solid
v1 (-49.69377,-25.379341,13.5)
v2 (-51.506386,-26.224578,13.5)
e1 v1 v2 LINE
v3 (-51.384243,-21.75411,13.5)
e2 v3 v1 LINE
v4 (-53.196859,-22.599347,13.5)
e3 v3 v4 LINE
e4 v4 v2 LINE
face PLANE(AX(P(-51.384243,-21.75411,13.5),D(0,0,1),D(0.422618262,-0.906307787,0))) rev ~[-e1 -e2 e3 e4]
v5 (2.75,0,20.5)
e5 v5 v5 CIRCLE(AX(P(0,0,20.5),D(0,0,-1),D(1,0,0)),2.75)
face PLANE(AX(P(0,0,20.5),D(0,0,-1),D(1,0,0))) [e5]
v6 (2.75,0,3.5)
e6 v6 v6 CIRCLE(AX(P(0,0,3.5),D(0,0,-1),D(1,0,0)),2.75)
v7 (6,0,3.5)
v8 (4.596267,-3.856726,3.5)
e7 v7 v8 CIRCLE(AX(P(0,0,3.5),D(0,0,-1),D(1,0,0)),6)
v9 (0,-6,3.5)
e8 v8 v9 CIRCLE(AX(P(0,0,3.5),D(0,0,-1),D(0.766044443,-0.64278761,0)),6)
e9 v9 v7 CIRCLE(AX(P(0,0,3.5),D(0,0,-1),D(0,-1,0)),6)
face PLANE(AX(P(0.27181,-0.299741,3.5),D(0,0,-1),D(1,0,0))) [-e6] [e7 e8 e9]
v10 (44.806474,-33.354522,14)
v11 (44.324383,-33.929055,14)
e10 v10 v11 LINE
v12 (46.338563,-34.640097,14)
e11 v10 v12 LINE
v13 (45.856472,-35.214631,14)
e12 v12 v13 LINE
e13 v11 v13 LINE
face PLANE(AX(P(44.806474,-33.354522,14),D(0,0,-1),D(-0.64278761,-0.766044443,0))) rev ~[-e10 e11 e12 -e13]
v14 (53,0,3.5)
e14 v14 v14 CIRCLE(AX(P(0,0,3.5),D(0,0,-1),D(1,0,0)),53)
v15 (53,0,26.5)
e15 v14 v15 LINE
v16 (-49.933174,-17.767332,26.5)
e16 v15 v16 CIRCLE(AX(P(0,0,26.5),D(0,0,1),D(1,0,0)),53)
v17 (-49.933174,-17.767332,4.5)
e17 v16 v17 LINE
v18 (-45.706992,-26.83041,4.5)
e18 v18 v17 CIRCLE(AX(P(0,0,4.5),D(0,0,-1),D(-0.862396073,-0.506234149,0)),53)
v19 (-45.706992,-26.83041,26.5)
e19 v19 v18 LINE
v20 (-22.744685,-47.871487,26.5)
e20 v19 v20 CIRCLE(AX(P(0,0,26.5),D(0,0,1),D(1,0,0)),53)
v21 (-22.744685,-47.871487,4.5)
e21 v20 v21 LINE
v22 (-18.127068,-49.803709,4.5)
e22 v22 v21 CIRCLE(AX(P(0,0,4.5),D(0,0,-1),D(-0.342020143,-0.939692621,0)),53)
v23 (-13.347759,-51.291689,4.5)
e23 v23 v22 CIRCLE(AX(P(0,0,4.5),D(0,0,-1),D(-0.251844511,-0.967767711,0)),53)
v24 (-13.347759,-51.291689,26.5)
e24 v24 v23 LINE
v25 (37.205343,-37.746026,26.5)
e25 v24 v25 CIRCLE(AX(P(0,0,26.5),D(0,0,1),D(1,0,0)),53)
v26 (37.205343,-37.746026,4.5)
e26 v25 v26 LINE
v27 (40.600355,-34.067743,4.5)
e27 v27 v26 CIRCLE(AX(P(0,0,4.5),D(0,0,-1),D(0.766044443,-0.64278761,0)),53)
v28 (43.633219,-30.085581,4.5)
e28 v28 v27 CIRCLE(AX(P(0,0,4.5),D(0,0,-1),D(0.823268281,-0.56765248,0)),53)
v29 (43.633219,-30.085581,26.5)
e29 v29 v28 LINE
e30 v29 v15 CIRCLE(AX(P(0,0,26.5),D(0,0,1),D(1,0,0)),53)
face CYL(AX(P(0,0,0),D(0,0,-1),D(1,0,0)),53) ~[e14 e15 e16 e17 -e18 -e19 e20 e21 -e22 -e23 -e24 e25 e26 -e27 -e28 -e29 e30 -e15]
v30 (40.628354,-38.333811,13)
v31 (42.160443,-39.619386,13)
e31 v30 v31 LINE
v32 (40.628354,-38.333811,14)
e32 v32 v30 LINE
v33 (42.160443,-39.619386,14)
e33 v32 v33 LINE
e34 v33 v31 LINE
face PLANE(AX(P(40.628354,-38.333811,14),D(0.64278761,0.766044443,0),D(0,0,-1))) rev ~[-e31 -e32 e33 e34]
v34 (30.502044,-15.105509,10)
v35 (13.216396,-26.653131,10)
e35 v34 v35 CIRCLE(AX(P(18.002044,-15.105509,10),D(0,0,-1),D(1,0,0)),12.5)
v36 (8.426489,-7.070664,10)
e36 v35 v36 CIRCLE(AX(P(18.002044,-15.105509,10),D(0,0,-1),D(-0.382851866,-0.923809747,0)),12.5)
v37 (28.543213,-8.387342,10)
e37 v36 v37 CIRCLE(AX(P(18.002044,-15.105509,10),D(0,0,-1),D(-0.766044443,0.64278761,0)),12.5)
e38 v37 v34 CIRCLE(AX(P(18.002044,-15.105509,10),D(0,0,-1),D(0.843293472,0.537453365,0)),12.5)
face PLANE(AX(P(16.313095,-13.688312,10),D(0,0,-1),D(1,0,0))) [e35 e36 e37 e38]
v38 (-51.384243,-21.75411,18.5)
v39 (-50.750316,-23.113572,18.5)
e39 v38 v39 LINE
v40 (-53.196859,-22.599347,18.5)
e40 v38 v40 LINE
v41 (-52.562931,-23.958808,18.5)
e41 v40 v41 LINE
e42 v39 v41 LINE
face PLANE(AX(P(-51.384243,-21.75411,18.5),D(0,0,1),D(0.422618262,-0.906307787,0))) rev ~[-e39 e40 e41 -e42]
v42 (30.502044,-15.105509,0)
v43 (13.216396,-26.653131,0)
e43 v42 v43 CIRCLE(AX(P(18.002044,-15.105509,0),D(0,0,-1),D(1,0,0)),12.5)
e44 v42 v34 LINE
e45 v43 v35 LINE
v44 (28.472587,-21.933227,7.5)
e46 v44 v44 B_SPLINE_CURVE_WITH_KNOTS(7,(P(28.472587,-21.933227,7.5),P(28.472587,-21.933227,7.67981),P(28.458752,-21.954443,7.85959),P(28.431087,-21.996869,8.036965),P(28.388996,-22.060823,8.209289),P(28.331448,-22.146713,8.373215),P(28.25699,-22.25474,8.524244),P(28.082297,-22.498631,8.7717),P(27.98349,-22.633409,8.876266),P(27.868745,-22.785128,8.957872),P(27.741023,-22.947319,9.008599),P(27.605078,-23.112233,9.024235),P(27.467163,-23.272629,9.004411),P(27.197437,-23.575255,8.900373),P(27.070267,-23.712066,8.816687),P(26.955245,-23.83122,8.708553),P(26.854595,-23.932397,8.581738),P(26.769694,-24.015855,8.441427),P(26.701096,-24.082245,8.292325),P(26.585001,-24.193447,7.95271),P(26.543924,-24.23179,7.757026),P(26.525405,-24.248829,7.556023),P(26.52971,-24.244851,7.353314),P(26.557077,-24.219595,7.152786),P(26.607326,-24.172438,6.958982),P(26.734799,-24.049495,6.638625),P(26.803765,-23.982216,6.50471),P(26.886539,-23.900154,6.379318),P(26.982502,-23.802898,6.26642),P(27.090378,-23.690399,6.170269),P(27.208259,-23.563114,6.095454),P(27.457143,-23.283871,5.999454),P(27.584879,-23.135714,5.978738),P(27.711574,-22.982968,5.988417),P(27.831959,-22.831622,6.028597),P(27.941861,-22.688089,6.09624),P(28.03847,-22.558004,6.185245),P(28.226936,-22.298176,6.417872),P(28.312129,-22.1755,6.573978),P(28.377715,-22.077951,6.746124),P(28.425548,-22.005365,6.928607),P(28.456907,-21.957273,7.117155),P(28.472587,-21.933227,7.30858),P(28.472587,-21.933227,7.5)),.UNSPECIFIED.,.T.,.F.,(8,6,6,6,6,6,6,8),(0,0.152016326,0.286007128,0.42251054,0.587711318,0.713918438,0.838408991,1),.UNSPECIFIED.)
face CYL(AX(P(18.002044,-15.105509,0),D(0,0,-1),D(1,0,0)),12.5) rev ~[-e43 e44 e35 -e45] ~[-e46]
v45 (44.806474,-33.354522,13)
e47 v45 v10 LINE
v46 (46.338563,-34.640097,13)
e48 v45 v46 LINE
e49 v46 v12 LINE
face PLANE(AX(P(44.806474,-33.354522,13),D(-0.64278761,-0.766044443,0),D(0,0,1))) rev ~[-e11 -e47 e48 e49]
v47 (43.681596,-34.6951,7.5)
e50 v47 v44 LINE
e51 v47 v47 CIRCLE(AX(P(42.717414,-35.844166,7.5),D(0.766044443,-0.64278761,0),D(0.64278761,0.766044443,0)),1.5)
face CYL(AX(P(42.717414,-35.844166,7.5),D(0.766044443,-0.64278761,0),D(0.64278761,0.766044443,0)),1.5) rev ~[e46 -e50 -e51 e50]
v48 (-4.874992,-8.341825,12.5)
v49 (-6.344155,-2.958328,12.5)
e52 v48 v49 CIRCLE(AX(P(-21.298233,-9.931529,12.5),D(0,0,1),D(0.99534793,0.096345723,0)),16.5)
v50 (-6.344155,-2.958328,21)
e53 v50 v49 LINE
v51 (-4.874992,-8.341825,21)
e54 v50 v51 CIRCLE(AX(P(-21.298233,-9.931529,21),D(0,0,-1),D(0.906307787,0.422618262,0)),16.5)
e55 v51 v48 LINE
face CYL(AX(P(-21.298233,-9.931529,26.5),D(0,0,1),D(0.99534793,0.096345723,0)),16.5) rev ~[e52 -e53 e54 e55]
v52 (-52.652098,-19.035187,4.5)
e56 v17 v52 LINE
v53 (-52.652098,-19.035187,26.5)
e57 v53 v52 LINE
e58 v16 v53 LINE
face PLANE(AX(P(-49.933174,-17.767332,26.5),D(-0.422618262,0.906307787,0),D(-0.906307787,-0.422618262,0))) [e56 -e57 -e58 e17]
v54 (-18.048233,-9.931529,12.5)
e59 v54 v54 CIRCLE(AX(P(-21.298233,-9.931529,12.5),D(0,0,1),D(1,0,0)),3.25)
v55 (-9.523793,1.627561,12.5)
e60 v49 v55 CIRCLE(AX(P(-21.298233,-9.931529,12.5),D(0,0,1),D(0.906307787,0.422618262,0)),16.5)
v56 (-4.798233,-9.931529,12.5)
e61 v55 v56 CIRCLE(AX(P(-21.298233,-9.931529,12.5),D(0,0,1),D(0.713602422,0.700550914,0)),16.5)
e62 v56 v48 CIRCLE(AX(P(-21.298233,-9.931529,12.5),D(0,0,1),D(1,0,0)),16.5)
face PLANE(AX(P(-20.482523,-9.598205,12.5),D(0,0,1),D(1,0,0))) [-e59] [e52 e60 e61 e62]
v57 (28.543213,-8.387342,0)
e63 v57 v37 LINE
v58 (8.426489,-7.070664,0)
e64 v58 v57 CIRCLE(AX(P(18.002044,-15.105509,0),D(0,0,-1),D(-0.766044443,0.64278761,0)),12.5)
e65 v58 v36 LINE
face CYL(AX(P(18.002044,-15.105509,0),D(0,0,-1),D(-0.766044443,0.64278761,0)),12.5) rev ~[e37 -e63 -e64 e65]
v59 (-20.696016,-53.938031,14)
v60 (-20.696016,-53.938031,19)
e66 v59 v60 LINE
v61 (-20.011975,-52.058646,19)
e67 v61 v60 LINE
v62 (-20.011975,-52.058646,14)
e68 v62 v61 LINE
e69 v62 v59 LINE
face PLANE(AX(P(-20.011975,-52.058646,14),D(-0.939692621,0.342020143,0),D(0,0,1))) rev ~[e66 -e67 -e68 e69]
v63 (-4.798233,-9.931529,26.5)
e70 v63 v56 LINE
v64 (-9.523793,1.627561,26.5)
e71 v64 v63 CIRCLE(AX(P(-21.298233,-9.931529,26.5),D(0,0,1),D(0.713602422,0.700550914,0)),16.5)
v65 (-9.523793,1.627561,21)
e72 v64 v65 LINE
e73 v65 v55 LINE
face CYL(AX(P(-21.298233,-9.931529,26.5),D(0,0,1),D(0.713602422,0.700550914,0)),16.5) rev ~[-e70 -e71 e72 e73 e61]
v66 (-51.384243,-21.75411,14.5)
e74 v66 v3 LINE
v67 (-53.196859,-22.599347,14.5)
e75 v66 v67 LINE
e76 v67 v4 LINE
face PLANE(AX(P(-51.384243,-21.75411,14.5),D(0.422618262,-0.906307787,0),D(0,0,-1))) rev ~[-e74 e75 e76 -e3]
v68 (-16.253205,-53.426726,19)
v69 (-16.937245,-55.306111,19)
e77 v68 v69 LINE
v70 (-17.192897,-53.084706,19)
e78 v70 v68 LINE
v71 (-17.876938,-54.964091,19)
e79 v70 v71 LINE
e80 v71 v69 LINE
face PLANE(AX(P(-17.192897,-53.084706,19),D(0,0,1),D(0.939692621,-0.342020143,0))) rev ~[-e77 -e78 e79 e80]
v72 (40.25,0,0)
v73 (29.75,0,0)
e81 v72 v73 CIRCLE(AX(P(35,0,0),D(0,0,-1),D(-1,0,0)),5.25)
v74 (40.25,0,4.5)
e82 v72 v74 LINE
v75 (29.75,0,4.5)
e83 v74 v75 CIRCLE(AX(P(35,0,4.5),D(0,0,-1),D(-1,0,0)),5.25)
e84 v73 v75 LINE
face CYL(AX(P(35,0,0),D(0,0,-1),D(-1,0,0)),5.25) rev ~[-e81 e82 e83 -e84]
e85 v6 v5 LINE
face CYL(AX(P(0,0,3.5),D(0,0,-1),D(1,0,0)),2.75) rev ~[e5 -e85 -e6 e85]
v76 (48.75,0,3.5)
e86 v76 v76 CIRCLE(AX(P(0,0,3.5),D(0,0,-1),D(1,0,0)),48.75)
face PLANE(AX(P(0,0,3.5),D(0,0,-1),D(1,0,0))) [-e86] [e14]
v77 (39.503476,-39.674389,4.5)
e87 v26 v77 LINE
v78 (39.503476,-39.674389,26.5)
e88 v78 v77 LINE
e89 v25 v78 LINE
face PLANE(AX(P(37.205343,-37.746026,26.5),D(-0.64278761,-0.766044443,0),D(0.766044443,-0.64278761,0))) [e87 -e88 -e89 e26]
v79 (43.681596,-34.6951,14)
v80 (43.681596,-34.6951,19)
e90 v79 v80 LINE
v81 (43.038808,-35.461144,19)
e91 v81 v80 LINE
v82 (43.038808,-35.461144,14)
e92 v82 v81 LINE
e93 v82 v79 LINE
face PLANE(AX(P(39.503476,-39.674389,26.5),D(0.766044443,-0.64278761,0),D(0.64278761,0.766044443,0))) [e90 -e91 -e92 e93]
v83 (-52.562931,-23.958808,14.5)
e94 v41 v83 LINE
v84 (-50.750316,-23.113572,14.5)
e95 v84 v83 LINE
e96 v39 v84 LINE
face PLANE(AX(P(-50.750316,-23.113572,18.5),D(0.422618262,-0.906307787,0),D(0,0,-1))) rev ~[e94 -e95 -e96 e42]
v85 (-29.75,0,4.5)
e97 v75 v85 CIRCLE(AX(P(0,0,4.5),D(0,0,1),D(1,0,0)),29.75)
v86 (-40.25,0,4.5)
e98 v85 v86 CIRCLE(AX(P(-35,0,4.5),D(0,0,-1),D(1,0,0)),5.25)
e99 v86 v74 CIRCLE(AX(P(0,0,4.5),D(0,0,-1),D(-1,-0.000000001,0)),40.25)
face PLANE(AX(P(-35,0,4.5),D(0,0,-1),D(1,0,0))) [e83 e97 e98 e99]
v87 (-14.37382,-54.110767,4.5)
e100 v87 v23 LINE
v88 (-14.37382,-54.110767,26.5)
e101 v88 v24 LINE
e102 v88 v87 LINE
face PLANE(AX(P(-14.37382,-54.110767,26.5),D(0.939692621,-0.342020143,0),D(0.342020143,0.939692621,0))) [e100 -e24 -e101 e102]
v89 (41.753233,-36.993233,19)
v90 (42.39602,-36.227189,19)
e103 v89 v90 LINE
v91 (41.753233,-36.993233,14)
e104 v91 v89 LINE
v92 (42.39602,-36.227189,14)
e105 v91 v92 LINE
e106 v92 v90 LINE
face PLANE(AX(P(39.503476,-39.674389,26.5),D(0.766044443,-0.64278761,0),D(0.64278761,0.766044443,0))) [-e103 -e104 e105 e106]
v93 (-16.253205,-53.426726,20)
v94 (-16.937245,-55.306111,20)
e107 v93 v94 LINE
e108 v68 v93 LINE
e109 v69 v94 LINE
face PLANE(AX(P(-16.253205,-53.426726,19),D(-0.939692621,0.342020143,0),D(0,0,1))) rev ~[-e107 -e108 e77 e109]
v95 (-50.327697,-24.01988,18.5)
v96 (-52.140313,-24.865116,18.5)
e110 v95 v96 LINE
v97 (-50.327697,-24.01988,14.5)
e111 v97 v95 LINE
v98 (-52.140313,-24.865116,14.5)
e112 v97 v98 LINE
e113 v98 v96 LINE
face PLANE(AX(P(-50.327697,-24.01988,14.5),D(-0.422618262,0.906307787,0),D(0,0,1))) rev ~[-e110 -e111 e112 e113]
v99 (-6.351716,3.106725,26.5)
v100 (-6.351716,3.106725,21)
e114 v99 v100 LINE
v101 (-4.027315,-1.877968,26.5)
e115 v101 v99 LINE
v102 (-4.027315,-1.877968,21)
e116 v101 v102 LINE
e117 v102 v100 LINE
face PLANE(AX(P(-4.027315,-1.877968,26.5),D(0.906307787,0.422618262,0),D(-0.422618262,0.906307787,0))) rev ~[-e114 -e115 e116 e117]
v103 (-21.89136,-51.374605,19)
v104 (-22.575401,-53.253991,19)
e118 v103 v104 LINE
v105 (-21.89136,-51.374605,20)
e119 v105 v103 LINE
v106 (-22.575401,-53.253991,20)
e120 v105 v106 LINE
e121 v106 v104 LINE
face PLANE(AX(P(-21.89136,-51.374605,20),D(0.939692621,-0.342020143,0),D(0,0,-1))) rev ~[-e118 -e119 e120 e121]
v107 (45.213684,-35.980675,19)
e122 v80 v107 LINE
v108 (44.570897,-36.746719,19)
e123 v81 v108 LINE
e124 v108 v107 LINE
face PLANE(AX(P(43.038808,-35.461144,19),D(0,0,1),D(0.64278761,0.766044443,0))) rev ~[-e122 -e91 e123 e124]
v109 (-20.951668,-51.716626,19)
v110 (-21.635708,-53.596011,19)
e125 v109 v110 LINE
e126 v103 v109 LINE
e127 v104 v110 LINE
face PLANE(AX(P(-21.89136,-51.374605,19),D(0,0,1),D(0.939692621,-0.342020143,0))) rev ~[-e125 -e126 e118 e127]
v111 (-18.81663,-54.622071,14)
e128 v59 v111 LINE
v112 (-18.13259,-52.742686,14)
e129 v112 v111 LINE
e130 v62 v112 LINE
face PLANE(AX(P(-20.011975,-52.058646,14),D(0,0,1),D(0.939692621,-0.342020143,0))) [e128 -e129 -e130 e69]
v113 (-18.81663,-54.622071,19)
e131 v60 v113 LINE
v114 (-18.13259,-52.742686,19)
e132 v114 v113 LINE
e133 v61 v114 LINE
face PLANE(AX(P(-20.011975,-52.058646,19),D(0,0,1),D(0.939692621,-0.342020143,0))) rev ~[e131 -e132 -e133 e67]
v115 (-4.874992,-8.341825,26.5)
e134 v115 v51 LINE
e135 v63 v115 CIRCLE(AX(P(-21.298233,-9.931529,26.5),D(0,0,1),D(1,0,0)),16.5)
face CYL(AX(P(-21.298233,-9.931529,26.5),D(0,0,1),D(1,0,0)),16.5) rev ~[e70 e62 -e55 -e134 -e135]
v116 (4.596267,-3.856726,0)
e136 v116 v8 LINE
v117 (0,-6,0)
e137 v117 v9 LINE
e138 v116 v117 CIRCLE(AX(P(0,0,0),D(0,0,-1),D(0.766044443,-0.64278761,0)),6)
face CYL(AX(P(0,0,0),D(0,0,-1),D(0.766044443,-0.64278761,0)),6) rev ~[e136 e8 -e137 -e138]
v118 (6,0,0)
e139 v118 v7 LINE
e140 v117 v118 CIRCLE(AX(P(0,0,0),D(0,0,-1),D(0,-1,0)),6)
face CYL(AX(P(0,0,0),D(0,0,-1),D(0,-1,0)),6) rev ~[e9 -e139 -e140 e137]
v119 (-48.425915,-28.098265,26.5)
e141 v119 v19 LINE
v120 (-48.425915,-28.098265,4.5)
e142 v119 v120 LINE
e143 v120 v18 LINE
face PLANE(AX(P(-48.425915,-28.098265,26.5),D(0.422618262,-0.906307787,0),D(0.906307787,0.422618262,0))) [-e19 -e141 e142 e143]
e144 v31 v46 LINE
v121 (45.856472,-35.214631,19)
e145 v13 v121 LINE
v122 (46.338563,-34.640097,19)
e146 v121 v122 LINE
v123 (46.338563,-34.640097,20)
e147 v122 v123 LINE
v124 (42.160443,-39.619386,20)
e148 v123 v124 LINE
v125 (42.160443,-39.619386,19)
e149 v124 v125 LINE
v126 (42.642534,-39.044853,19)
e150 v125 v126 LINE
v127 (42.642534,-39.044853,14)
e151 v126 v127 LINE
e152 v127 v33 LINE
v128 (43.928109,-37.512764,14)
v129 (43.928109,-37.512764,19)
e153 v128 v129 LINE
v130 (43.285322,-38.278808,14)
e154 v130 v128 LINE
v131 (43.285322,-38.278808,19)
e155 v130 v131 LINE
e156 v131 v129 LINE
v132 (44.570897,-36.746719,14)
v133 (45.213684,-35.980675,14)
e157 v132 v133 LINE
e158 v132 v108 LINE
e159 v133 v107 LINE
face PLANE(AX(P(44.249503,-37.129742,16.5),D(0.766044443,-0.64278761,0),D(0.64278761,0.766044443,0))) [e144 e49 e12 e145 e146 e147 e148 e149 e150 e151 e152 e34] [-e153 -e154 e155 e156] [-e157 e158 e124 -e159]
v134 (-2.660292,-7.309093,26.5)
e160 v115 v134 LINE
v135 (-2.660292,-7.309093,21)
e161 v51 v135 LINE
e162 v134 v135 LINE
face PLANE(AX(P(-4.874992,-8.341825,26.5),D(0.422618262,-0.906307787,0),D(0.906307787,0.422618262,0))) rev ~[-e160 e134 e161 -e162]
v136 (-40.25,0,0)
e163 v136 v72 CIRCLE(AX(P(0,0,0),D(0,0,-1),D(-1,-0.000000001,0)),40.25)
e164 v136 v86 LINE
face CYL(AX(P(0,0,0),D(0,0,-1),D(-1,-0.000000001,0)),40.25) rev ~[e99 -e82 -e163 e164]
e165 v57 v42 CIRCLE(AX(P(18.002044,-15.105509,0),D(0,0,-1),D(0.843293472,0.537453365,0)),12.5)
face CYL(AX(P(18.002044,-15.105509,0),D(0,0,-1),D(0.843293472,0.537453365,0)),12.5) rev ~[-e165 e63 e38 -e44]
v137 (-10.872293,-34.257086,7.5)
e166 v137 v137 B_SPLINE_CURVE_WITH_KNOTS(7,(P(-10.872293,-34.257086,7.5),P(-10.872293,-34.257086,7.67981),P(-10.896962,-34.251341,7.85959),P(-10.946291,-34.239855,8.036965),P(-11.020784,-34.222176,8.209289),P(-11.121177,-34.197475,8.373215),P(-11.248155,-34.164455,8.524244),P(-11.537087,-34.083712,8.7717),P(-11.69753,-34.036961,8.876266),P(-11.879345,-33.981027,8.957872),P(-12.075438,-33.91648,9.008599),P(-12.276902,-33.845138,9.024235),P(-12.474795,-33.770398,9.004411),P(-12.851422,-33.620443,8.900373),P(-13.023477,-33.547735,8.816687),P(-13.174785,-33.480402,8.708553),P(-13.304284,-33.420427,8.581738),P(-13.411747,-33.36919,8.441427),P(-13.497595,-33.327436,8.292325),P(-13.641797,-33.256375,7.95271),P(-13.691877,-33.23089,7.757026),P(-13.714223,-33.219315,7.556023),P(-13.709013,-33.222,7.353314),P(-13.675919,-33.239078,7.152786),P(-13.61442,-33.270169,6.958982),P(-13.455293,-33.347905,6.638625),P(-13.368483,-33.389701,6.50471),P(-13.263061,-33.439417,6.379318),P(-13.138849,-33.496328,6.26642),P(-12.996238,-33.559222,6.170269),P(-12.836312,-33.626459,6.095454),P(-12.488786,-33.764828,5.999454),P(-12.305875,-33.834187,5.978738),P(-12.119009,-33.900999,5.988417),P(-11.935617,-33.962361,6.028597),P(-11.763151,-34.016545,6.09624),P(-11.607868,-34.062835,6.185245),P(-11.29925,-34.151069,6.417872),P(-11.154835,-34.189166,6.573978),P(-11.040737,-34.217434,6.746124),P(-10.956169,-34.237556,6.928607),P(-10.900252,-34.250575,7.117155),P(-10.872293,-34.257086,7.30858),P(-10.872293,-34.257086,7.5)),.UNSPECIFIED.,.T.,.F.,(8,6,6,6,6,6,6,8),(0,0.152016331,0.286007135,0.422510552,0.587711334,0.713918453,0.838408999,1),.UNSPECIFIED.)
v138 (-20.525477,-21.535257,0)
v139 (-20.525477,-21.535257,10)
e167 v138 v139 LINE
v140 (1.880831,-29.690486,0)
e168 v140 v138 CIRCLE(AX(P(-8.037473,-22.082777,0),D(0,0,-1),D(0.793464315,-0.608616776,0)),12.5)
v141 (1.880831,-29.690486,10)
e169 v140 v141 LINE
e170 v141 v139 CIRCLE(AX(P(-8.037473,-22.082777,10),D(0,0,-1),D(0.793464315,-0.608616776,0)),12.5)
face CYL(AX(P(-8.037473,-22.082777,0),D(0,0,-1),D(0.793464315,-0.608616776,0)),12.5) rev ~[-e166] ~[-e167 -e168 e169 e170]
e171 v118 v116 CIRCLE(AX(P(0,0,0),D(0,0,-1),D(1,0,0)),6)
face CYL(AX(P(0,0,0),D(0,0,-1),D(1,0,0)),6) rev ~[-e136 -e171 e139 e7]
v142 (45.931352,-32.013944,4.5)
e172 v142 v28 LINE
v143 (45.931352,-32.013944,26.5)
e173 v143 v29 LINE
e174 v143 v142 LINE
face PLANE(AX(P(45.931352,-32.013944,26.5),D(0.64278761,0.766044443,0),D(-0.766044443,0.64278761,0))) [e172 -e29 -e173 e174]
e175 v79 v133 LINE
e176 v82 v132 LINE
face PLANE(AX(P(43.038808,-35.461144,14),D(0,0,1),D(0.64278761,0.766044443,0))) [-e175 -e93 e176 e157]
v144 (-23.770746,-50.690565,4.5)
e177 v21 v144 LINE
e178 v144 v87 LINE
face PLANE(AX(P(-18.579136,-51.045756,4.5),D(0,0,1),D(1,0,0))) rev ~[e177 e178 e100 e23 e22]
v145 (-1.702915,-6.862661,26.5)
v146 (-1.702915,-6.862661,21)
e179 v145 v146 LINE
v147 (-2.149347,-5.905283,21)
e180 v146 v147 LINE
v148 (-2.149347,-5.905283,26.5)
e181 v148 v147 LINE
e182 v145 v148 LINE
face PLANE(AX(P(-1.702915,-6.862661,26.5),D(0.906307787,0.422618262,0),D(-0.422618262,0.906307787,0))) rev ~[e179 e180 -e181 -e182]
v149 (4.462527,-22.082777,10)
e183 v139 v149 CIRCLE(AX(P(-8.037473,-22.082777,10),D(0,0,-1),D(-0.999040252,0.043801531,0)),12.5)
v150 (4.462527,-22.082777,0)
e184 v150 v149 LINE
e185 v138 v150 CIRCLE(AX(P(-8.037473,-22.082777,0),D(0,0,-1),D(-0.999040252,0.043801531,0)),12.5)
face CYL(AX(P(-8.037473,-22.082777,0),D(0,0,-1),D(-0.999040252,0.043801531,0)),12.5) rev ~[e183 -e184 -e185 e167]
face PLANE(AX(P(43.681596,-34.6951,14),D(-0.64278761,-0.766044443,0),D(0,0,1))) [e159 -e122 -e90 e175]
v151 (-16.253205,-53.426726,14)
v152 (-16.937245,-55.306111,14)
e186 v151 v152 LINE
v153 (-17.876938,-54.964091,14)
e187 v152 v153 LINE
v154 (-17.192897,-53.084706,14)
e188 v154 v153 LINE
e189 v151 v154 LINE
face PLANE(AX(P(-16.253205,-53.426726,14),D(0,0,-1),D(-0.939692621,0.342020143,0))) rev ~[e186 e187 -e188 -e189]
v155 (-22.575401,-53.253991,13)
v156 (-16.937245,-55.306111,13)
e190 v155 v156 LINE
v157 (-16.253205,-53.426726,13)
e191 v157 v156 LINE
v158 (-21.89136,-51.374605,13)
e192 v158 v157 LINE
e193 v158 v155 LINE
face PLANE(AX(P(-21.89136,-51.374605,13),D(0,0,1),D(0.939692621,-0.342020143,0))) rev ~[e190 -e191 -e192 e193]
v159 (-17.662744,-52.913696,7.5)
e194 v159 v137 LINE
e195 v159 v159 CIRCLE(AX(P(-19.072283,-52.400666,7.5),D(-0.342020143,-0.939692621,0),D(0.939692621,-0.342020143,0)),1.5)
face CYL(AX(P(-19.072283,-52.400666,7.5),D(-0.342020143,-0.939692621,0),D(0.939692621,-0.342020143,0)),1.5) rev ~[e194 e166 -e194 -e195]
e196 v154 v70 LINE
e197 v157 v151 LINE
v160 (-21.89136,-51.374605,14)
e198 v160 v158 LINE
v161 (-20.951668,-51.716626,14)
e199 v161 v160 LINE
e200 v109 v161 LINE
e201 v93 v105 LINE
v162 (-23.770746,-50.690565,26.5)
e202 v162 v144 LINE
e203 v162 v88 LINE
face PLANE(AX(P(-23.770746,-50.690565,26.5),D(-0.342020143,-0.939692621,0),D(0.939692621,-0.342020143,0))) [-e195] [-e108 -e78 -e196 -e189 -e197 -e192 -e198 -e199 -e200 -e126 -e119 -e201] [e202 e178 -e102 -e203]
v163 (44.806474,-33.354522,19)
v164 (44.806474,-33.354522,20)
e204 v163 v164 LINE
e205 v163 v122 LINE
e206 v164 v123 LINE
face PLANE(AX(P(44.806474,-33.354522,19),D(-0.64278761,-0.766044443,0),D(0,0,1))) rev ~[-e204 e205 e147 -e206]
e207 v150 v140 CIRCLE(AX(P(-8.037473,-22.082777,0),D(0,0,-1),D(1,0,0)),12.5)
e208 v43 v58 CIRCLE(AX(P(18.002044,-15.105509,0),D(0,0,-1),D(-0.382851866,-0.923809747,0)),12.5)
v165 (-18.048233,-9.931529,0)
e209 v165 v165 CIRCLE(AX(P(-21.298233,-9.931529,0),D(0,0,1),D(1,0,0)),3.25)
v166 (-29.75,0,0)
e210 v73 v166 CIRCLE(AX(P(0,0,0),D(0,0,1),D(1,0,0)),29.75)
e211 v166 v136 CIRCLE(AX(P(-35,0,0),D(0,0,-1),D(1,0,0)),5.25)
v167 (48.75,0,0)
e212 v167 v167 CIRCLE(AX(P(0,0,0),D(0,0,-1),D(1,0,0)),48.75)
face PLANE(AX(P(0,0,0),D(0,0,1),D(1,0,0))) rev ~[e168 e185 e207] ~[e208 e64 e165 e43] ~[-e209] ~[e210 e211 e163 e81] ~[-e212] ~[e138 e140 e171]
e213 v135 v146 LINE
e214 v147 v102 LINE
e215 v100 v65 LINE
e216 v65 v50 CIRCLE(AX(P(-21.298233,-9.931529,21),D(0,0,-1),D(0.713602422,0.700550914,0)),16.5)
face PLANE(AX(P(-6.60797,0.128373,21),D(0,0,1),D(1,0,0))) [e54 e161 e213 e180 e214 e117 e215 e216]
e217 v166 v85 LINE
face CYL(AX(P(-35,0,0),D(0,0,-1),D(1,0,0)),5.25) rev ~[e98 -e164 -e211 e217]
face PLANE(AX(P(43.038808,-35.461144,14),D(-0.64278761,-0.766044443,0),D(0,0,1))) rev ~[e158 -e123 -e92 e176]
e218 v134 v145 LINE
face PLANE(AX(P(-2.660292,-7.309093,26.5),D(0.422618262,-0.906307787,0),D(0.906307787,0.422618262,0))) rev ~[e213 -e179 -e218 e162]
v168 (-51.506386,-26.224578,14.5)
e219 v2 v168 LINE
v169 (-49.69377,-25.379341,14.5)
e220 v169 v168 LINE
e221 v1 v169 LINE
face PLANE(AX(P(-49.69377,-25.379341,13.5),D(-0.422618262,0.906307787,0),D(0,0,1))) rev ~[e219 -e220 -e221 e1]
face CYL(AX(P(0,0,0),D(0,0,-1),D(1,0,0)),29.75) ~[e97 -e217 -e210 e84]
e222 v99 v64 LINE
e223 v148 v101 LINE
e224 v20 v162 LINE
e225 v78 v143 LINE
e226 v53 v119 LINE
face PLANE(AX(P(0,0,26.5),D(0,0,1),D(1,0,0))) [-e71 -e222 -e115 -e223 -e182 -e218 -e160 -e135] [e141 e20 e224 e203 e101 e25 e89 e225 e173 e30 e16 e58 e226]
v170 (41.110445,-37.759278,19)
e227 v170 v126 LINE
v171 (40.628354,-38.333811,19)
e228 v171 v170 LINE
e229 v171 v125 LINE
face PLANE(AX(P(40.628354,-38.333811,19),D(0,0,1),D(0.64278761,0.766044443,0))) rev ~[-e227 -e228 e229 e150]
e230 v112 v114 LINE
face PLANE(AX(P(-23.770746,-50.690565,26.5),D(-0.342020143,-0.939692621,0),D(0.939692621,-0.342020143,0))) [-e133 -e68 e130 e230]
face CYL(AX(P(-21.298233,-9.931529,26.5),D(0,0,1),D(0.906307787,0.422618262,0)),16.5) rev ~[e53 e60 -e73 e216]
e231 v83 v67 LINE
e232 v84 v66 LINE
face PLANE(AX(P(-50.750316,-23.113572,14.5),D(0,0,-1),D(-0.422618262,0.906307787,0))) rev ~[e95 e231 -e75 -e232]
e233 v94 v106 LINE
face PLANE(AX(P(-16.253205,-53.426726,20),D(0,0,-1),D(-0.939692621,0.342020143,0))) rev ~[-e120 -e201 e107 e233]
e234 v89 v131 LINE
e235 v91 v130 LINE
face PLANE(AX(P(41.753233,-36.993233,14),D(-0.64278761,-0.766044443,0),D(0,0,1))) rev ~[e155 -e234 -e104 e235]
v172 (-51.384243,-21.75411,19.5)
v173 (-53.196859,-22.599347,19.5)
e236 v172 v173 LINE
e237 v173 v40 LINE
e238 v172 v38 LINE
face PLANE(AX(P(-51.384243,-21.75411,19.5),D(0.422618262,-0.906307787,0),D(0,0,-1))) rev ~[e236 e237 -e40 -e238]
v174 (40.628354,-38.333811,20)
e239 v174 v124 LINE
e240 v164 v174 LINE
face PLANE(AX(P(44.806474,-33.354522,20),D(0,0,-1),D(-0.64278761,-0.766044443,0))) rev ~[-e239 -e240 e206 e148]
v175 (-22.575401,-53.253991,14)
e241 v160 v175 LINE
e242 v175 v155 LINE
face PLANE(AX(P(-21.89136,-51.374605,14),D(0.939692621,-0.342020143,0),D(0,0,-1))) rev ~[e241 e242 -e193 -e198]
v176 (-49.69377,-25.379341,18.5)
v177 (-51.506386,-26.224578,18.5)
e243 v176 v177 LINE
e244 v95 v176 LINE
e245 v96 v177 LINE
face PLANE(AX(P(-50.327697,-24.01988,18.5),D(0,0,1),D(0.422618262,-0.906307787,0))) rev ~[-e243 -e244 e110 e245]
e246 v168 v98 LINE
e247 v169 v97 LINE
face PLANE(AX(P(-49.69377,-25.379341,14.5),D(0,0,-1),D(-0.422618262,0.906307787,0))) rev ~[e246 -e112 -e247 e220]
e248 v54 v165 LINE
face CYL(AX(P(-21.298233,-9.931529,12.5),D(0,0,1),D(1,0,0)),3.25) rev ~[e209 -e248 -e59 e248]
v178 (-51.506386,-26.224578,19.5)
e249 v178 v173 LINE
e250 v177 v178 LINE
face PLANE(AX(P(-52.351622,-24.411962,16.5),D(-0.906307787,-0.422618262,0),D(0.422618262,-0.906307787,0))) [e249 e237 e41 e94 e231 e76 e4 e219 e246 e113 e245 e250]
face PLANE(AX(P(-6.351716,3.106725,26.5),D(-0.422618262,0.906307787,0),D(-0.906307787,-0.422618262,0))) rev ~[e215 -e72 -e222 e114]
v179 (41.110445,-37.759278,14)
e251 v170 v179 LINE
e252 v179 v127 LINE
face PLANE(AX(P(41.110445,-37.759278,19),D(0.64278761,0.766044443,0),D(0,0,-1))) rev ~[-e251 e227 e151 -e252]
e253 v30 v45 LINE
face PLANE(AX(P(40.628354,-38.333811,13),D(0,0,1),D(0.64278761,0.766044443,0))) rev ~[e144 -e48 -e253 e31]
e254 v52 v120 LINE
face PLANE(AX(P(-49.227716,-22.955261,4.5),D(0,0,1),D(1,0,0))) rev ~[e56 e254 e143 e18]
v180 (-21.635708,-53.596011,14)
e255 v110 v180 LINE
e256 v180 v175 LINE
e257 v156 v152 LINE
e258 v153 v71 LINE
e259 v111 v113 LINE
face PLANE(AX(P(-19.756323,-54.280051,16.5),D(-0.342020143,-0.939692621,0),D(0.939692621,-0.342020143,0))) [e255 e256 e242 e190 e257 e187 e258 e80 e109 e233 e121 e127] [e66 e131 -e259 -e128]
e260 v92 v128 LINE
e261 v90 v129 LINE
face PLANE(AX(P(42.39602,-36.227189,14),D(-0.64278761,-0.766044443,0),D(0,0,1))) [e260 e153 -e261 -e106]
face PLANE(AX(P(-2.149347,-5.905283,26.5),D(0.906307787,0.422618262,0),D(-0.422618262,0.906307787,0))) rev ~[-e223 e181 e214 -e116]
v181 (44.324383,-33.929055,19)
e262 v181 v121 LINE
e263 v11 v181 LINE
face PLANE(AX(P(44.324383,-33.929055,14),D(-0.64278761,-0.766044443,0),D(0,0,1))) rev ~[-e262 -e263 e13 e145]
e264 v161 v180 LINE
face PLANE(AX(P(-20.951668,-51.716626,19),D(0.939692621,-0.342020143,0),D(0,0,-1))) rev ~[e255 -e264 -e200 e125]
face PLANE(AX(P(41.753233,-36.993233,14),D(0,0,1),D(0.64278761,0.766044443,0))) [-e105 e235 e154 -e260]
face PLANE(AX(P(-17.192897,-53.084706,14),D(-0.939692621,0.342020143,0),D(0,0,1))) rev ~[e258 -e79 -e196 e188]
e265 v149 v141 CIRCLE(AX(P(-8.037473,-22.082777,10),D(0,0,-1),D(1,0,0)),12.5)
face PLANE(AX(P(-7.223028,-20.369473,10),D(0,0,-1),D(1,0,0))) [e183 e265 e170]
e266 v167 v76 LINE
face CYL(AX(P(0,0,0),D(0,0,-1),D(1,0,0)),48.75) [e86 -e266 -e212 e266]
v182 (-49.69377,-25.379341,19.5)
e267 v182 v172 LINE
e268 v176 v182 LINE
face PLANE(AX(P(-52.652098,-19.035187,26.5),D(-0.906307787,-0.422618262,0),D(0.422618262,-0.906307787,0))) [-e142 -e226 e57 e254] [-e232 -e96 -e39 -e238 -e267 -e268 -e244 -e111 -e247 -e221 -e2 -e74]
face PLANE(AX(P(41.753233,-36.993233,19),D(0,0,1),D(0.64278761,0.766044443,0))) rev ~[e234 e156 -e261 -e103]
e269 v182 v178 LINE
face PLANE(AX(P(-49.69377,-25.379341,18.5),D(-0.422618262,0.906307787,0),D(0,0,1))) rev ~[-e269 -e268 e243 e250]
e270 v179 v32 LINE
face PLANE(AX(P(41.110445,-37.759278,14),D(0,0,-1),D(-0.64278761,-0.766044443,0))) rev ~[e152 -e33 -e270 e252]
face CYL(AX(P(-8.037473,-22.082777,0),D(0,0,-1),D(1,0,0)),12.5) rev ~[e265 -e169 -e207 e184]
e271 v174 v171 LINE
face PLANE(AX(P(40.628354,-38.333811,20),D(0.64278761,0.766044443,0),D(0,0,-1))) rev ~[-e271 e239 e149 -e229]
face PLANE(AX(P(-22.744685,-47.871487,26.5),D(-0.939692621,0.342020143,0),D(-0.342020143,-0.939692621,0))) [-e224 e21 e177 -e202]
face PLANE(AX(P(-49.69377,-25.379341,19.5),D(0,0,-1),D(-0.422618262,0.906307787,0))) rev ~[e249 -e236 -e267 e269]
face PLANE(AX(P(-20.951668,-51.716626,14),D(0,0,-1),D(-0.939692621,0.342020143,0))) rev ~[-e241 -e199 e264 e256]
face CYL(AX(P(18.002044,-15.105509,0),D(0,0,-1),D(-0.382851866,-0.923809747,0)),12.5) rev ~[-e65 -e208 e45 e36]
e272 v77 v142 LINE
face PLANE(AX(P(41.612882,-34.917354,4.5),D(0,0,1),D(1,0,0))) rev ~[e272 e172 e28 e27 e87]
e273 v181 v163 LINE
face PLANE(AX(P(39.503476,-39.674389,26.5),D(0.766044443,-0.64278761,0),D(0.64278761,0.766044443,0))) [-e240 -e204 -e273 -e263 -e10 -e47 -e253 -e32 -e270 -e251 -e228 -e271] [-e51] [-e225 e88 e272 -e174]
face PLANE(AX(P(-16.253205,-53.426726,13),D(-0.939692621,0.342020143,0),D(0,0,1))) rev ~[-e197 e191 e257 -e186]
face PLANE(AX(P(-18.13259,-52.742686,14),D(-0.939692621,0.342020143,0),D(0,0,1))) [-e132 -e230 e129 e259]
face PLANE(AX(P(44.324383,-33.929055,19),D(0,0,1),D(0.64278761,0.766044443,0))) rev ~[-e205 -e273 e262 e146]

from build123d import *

# Parameters (mm, degrees)
F0_R      = 53
F1_DEPTH  = 26.5
F2_R      = 53
F2_R_2    = 48.75
F3_DEPTH  = 3.5
F4_R      = 2.75
F5_DEPTH  = 17
F6_DEPTH  = 4.5
F8_DEPTH  = 14
F9_R      = 3.25
F10_DEPTH = 12.5
F11_DEPTH = 10
F12_DEPTH = 22
F13_DEPTH = 5.5
F14_R     = 1.5
F15_DEPTH = 25
F16_R     = 1.5
F17_DEPTH = 25
F19_DEPTH = 2
F14_W     = 2
F14_H     = 5
F20_DEPTH = 2
F16_W     = 1
F16_H     = 5
F21_DEPTH = 2


with BuildPart() as f1:
    # F0 (on Top) → F1 (new body)
    with BuildSketch(Plane.XY):
        Circle(F0_R)
    extrude(amount=F1_DEPTH)

    # F2 (on face) → F3 (cut)
    with BuildSketch(Plane(origin=(0, 0, 0), x_dir=(1, 0, 0), z_dir=(0, 0, -1))):
        Circle(F2_R)
        Circle(F2_R_2, mode=Mode.SUBTRACT)
        with BuildLine():
            ThreePointArc((0, 6), (-4.2426406871, -4.2426406871), (6, 0))
            ThreePointArc((6, 0), (5.6381557247, 2.05212086), (4.5962666587, 3.8567256581))
            Line((4.5962666587, 3.8567256581), (0, 0))
            Line((0, 0), (0, 6))
        make_face()
        with BuildLine():
            Line((0, 0), (4.5962666587, 3.8567256581))
            ThreePointArc((4.5962666587, 3.8567256581), (2.5357095704, 5.4378467222), (0, 6))
            Line((0, 6), (0, 0))
        make_face()
    extrude(amount=-F3_DEPTH, mode=Mode.SUBTRACT)

    # F4 (on face) → F5 (cut)
    with BuildSketch(Plane(origin=(0, 0, 3.5), x_dir=(1, 0, 0), z_dir=(0, 0, -1))):
        Circle(F4_R)
    extrude(amount=-F5_DEPTH, mode=Mode.SUBTRACT)

    # F2 (on face) → F6 (cut)
    with BuildSketch(Plane(origin=(0, 0, 0), x_dir=(1, 0, 0), z_dir=(0, 0, -1))):
        with BuildLine():
            ThreePointArc((-40.25, 5.06e-08), (-35.0000000253, -5.25), (-29.75, 0))
            ThreePointArc((-29.75, 0), (-34.9999999747, 5.25), (-40.25, 5.06e-08))
        make_face()
        with BuildLine():
            ThreePointArc((40.25, 0), (35, -5.25), (29.75, 0))
            ThreePointArc((29.75, 0), (0, -29.75), (-29.75, 0))
            ThreePointArc((-29.75, 0), (-35.0000000253, -5.25), (-40.25, 5.06e-08))
            ThreePointArc((-40.25, 5.06e-08), (-2.53e-08, -40.25), (40.25, 0))
        make_face()
        with BuildLine():
            ThreePointArc((40.25, 0), (35, 5.25), (29.75, 0))
            ThreePointArc((29.75, 0), (35, -5.25), (40.25, 0))
        make_face()
    extrude(amount=-F6_DEPTH, mode=Mode.SUBTRACT)

    # F7 (on face) → F8 (cut)
    with BuildSketch(Plane.XY.offset(26.5)):
        with BuildLine():
            ThreePointArc((-9.5237930297, 1.6275609299), (-36.5712199238, -16.1753957641), (-4.7982329954, -9.9315291509))
            ThreePointArc((-4.7982329954, -9.9315291509), (-4.8174339562, -9.1357508964), (-4.8749921506, -8.3418247275))
            ThreePointArc((-4.8749921506, -8.3418247275), (-5.3803326375, -5.587516237), (-6.3441545093, -2.9583278322))
            ThreePointArc((-6.3441545093, -2.9583278322), (-7.7386969196, -0.529987713), (-9.5237930297, 1.6275609299))
        make_face()
    extrude(amount=-F8_DEPTH, mode=Mode.SUBTRACT)

    # F9 (on face) → F10 (cut)
    with BuildSketch(Plane.XY.offset(12.5)):
        with Locations((-21.2982329954, -9.9315291509)):
            Circle(F9_R)
    extrude(amount=-F10_DEPTH, mode=Mode.SUBTRACT)

    # F2 (on face) → F11 (cut)
    with BuildSketch(Plane(origin=(0, 0, 0), x_dir=(1, 0, 0), z_dir=(0, 0, -1))):
        with BuildLine():
            ThreePointArc((4.4625266318, 22.0827765885), (3.7995194773, 26.099690874), (1.8808305715, 29.6904862938))
            ThreePointArc((1.8808305715, 29.6904862938), (-10.1750992639, 27.9558554684), (-20.525476523, 21.5352574516))
            ThreePointArc((-20.525476523, 21.5352574516), (-7.763648091, 9.5857761597), (4.4625266318, 22.0827765885))
        make_face()
        with BuildLine():
            ThreePointArc((-20.525476523, 21.5352574516), (-10.1750992639, 27.9558554684), (1.8808305715, 29.6904862938))
            ThreePointArc((1.8808305715, 29.6904862938), (-12.3127251597, 33.8289343483), (-20.525476523, 21.5352574516))
        make_face()
        with BuildLine():
            ThreePointArc((13.2163960917, 26.6531306669), (5.8599977512, 18.0754756382), (8.4264888743, 7.0706637066))
            ThreePointArc((8.4264888743, 7.0706637066), (18.8184464785, 2.632197813), (28.5432128195, 8.3873417686))
            ThreePointArc((28.5432128195, 8.3873417686), (22.7898221828, 19.1229313882), (13.2163960917, 26.6531306669))
        make_face()
        with BuildLine():
            ThreePointArc((30.5020444133, 15.1055088276), (24.9457248488, 25.499512003), (13.2163960917, 26.6531306669))
            ThreePointArc((13.2163960917, 26.6531306669), (22.7898221828, 19.1229313882), (28.5432128195, 8.3873417686))
            ThreePointArc((28.5432128195, 8.3873417686), (30.0023486819, 11.6065522029), (30.5020444133, 15.1055088276))
        make_face()
    extrude(amount=-F11_DEPTH, mode=Mode.SUBTRACT)

    # F7 (on face) → F12 (join)
    with BuildSketch(Plane.XY.offset(26.5)):
        with BuildLine():
            Line((-48.4259152046, -28.0982647079), (-45.7069918435, -26.8304099227))
            ThreePointArc((-45.7069918435, -26.8304099227), (-48.0343127129, -22.3987678723), (-49.9331744609, -17.7673320523))
            Line((-49.9331744609, -17.7673320523), (-52.652097822, -19.0351868375))
            Line((-52.652097822, -19.0351868375), (-48.4259152046, -28.0982647079))
        make_face()
        with BuildLine():
            ThreePointArc((-13.3477590818, -51.2916886785), (-15.7549896718, -50.604152996), (-18.1270675963, -49.8037089017))
            ThreePointArc((-18.1270675963, -49.8037089017), (-20.458700255, -48.8921423531), (-22.7446852897, -47.8714872453))
            Line((-22.7446852897, -47.8714872453), (-23.7707457197, -50.6905651076))
            Line((-23.7707457197, -50.6905651076), (-14.3738195118, -54.1107665409))
            Line((-14.3738195118, -54.1107665409), (-13.3477590818, -51.2916886785))
        make_face()
        with BuildLine():
            ThreePointArc((43.6332188846, -30.0855814265), (42.1638253258, -32.1124871957), (40.6003554853, -34.0677433134))
            ThreePointArc((40.6003554853, -34.0677433134), (38.9462977901, -35.9469871956), (37.2053427877, -37.7460258577))
            Line((37.2053427877, -37.7460258577), (39.5034761171, -39.6743886867))
            Line((39.5034761171, -39.6743886867), (45.9313522139, -32.0139442555))
            Line((45.9313522139, -32.0139442555), (43.6332188846, -30.0855814265))
        make_face()
    extrude(amount=-F12_DEPTH)

    # F7 (on face) → F13 (cut)
    with BuildSketch(Plane.XY.offset(26.5)):
        with BuildLine():
            Line((-6.3517157751, 3.106724846), (-9.5237930297, 1.6275609299))
            ThreePointArc((-9.5237930297, 1.6275609299), (-7.7386969196, -0.529987713), (-6.3441545093, -2.9583278322))
            Line((-6.3441545093, -2.9583278322), (-4.0273153355, -1.8779679828))
            Line((-4.0273153355, -1.8779679828), (-6.3517157751, 3.106724846))
        make_face()
        with BuildLine():
            ThreePointArc((-6.3441545093, -2.9583278322), (-5.3803326375, -5.587516237), (-4.8749921506, -8.3418247275))
            Line((-4.8749921506, -8.3418247275), (-2.6602923891, -7.3090932683))
            Line((-2.6602923891, -7.3090932683), (-2.1493473528, -5.9052833183))
            Line((-2.1493473528, -5.9052833183), (-4.0273153355, -1.8779679828))
            Line((-4.0273153355, -1.8779679828), (-6.3441545093, -2.9583278322))
        make_face()
        Polygon((-2.1493473528, -5.9052833183), (-2.6602923891, -7.3090932683), (-1.7029148959, -6.8626608115), align=None)
    extrude(amount=-F13_DEPTH, mode=Mode.SUBTRACT)

    # F14 (on face) → F15 (cut)
    with BuildSketch(Plane(origin=(-19.0722826158, -52.4006658242, 0), x_dir=(0.9396926208, -0.3420201433, 0), z_dir=(-0.3420201433, -0.9396926208, 0))):
        with Locations((0, 7.5)):
            Circle(F14_R)
    extrude(amount=-F15_DEPTH, mode=Mode.SUBTRACT)

    # F16 (on face) → F17 (cut)
    with BuildSketch(Plane(origin=(42.7174141655, -35.8441664711, 0), x_dir=(0.6427876097, 0.7660444431, 0), z_dir=(0.7660444431, -0.6427876097, 0))):
        with Locations((0, 7.5)):
            Circle(F16_R)
    extrude(amount=-F17_DEPTH, mode=Mode.SUBTRACT)

    # F18 (on face) → F19 (join)
    with BuildSketch(Plane(origin=(-50.5390065133, -23.5667257727, 0), x_dir=(0.4226182617, -0.906307787, 0), z_dir=(-0.906307787, -0.4226182617, 0))):
        Polygon((2, 19.5), (-2, 19.5), (-2, 18.5), (-0.5, 18.5), (-0.5, 14.5), (-2, 14.5), (-2, 13.5), (2, 13.5), (2, 14.5), (0.5, 14.5), (0.5, 18.5), (2, 18.5), align=None)
    extrude(amount=F19_DEPTH)

    # F14 (on face) → F20 (join)
    with BuildSketch(Plane(origin=(-19.0722826158, -52.4006658242, 0), x_dir=(0.9396926208, -0.3420201433, 0), z_dir=(-0.3420201433, -0.9396926208, 0))):
        Polygon((3, 20), (-3, 20), (-3, 19), (-2, 19), (-2, 14), (-3, 14), (-3, 13), (3, 13), (3, 14), (2, 14), (2, 19), (3, 19), align=None)
        with Locations((0, 16.5)):
            Rectangle(F14_W, F14_H, mode=Mode.SUBTRACT)
    extrude(amount=F20_DEPTH)

    # F16 (on face) → F21 (join)
    with BuildSketch(Plane(origin=(42.7174141655, -35.8441664711, 0), x_dir=(0.6427876097, 0.7660444431, 0), z_dir=(0.7660444431, -0.6427876097, 0))):
        Polygon((3.25, 20), (-3.25, 20), (-3.25, 19), (-2.5, 19), (-2.5, 14), (-3.25, 14), (-3.25, 13), (3.25, 13), (3.25, 14), (2.5, 14), (2.5, 19), (3.25, 19), align=None)
        with Locations((-1, 16.5)):
            Rectangle(F16_W, F16_H, mode=Mode.SUBTRACT)
        with Locations((1, 16.5)):
            Rectangle(F16_W, F16_H, mode=Mode.SUBTRACT)
    extrude(amount=F21_DEPTH)


solid = f1.part
